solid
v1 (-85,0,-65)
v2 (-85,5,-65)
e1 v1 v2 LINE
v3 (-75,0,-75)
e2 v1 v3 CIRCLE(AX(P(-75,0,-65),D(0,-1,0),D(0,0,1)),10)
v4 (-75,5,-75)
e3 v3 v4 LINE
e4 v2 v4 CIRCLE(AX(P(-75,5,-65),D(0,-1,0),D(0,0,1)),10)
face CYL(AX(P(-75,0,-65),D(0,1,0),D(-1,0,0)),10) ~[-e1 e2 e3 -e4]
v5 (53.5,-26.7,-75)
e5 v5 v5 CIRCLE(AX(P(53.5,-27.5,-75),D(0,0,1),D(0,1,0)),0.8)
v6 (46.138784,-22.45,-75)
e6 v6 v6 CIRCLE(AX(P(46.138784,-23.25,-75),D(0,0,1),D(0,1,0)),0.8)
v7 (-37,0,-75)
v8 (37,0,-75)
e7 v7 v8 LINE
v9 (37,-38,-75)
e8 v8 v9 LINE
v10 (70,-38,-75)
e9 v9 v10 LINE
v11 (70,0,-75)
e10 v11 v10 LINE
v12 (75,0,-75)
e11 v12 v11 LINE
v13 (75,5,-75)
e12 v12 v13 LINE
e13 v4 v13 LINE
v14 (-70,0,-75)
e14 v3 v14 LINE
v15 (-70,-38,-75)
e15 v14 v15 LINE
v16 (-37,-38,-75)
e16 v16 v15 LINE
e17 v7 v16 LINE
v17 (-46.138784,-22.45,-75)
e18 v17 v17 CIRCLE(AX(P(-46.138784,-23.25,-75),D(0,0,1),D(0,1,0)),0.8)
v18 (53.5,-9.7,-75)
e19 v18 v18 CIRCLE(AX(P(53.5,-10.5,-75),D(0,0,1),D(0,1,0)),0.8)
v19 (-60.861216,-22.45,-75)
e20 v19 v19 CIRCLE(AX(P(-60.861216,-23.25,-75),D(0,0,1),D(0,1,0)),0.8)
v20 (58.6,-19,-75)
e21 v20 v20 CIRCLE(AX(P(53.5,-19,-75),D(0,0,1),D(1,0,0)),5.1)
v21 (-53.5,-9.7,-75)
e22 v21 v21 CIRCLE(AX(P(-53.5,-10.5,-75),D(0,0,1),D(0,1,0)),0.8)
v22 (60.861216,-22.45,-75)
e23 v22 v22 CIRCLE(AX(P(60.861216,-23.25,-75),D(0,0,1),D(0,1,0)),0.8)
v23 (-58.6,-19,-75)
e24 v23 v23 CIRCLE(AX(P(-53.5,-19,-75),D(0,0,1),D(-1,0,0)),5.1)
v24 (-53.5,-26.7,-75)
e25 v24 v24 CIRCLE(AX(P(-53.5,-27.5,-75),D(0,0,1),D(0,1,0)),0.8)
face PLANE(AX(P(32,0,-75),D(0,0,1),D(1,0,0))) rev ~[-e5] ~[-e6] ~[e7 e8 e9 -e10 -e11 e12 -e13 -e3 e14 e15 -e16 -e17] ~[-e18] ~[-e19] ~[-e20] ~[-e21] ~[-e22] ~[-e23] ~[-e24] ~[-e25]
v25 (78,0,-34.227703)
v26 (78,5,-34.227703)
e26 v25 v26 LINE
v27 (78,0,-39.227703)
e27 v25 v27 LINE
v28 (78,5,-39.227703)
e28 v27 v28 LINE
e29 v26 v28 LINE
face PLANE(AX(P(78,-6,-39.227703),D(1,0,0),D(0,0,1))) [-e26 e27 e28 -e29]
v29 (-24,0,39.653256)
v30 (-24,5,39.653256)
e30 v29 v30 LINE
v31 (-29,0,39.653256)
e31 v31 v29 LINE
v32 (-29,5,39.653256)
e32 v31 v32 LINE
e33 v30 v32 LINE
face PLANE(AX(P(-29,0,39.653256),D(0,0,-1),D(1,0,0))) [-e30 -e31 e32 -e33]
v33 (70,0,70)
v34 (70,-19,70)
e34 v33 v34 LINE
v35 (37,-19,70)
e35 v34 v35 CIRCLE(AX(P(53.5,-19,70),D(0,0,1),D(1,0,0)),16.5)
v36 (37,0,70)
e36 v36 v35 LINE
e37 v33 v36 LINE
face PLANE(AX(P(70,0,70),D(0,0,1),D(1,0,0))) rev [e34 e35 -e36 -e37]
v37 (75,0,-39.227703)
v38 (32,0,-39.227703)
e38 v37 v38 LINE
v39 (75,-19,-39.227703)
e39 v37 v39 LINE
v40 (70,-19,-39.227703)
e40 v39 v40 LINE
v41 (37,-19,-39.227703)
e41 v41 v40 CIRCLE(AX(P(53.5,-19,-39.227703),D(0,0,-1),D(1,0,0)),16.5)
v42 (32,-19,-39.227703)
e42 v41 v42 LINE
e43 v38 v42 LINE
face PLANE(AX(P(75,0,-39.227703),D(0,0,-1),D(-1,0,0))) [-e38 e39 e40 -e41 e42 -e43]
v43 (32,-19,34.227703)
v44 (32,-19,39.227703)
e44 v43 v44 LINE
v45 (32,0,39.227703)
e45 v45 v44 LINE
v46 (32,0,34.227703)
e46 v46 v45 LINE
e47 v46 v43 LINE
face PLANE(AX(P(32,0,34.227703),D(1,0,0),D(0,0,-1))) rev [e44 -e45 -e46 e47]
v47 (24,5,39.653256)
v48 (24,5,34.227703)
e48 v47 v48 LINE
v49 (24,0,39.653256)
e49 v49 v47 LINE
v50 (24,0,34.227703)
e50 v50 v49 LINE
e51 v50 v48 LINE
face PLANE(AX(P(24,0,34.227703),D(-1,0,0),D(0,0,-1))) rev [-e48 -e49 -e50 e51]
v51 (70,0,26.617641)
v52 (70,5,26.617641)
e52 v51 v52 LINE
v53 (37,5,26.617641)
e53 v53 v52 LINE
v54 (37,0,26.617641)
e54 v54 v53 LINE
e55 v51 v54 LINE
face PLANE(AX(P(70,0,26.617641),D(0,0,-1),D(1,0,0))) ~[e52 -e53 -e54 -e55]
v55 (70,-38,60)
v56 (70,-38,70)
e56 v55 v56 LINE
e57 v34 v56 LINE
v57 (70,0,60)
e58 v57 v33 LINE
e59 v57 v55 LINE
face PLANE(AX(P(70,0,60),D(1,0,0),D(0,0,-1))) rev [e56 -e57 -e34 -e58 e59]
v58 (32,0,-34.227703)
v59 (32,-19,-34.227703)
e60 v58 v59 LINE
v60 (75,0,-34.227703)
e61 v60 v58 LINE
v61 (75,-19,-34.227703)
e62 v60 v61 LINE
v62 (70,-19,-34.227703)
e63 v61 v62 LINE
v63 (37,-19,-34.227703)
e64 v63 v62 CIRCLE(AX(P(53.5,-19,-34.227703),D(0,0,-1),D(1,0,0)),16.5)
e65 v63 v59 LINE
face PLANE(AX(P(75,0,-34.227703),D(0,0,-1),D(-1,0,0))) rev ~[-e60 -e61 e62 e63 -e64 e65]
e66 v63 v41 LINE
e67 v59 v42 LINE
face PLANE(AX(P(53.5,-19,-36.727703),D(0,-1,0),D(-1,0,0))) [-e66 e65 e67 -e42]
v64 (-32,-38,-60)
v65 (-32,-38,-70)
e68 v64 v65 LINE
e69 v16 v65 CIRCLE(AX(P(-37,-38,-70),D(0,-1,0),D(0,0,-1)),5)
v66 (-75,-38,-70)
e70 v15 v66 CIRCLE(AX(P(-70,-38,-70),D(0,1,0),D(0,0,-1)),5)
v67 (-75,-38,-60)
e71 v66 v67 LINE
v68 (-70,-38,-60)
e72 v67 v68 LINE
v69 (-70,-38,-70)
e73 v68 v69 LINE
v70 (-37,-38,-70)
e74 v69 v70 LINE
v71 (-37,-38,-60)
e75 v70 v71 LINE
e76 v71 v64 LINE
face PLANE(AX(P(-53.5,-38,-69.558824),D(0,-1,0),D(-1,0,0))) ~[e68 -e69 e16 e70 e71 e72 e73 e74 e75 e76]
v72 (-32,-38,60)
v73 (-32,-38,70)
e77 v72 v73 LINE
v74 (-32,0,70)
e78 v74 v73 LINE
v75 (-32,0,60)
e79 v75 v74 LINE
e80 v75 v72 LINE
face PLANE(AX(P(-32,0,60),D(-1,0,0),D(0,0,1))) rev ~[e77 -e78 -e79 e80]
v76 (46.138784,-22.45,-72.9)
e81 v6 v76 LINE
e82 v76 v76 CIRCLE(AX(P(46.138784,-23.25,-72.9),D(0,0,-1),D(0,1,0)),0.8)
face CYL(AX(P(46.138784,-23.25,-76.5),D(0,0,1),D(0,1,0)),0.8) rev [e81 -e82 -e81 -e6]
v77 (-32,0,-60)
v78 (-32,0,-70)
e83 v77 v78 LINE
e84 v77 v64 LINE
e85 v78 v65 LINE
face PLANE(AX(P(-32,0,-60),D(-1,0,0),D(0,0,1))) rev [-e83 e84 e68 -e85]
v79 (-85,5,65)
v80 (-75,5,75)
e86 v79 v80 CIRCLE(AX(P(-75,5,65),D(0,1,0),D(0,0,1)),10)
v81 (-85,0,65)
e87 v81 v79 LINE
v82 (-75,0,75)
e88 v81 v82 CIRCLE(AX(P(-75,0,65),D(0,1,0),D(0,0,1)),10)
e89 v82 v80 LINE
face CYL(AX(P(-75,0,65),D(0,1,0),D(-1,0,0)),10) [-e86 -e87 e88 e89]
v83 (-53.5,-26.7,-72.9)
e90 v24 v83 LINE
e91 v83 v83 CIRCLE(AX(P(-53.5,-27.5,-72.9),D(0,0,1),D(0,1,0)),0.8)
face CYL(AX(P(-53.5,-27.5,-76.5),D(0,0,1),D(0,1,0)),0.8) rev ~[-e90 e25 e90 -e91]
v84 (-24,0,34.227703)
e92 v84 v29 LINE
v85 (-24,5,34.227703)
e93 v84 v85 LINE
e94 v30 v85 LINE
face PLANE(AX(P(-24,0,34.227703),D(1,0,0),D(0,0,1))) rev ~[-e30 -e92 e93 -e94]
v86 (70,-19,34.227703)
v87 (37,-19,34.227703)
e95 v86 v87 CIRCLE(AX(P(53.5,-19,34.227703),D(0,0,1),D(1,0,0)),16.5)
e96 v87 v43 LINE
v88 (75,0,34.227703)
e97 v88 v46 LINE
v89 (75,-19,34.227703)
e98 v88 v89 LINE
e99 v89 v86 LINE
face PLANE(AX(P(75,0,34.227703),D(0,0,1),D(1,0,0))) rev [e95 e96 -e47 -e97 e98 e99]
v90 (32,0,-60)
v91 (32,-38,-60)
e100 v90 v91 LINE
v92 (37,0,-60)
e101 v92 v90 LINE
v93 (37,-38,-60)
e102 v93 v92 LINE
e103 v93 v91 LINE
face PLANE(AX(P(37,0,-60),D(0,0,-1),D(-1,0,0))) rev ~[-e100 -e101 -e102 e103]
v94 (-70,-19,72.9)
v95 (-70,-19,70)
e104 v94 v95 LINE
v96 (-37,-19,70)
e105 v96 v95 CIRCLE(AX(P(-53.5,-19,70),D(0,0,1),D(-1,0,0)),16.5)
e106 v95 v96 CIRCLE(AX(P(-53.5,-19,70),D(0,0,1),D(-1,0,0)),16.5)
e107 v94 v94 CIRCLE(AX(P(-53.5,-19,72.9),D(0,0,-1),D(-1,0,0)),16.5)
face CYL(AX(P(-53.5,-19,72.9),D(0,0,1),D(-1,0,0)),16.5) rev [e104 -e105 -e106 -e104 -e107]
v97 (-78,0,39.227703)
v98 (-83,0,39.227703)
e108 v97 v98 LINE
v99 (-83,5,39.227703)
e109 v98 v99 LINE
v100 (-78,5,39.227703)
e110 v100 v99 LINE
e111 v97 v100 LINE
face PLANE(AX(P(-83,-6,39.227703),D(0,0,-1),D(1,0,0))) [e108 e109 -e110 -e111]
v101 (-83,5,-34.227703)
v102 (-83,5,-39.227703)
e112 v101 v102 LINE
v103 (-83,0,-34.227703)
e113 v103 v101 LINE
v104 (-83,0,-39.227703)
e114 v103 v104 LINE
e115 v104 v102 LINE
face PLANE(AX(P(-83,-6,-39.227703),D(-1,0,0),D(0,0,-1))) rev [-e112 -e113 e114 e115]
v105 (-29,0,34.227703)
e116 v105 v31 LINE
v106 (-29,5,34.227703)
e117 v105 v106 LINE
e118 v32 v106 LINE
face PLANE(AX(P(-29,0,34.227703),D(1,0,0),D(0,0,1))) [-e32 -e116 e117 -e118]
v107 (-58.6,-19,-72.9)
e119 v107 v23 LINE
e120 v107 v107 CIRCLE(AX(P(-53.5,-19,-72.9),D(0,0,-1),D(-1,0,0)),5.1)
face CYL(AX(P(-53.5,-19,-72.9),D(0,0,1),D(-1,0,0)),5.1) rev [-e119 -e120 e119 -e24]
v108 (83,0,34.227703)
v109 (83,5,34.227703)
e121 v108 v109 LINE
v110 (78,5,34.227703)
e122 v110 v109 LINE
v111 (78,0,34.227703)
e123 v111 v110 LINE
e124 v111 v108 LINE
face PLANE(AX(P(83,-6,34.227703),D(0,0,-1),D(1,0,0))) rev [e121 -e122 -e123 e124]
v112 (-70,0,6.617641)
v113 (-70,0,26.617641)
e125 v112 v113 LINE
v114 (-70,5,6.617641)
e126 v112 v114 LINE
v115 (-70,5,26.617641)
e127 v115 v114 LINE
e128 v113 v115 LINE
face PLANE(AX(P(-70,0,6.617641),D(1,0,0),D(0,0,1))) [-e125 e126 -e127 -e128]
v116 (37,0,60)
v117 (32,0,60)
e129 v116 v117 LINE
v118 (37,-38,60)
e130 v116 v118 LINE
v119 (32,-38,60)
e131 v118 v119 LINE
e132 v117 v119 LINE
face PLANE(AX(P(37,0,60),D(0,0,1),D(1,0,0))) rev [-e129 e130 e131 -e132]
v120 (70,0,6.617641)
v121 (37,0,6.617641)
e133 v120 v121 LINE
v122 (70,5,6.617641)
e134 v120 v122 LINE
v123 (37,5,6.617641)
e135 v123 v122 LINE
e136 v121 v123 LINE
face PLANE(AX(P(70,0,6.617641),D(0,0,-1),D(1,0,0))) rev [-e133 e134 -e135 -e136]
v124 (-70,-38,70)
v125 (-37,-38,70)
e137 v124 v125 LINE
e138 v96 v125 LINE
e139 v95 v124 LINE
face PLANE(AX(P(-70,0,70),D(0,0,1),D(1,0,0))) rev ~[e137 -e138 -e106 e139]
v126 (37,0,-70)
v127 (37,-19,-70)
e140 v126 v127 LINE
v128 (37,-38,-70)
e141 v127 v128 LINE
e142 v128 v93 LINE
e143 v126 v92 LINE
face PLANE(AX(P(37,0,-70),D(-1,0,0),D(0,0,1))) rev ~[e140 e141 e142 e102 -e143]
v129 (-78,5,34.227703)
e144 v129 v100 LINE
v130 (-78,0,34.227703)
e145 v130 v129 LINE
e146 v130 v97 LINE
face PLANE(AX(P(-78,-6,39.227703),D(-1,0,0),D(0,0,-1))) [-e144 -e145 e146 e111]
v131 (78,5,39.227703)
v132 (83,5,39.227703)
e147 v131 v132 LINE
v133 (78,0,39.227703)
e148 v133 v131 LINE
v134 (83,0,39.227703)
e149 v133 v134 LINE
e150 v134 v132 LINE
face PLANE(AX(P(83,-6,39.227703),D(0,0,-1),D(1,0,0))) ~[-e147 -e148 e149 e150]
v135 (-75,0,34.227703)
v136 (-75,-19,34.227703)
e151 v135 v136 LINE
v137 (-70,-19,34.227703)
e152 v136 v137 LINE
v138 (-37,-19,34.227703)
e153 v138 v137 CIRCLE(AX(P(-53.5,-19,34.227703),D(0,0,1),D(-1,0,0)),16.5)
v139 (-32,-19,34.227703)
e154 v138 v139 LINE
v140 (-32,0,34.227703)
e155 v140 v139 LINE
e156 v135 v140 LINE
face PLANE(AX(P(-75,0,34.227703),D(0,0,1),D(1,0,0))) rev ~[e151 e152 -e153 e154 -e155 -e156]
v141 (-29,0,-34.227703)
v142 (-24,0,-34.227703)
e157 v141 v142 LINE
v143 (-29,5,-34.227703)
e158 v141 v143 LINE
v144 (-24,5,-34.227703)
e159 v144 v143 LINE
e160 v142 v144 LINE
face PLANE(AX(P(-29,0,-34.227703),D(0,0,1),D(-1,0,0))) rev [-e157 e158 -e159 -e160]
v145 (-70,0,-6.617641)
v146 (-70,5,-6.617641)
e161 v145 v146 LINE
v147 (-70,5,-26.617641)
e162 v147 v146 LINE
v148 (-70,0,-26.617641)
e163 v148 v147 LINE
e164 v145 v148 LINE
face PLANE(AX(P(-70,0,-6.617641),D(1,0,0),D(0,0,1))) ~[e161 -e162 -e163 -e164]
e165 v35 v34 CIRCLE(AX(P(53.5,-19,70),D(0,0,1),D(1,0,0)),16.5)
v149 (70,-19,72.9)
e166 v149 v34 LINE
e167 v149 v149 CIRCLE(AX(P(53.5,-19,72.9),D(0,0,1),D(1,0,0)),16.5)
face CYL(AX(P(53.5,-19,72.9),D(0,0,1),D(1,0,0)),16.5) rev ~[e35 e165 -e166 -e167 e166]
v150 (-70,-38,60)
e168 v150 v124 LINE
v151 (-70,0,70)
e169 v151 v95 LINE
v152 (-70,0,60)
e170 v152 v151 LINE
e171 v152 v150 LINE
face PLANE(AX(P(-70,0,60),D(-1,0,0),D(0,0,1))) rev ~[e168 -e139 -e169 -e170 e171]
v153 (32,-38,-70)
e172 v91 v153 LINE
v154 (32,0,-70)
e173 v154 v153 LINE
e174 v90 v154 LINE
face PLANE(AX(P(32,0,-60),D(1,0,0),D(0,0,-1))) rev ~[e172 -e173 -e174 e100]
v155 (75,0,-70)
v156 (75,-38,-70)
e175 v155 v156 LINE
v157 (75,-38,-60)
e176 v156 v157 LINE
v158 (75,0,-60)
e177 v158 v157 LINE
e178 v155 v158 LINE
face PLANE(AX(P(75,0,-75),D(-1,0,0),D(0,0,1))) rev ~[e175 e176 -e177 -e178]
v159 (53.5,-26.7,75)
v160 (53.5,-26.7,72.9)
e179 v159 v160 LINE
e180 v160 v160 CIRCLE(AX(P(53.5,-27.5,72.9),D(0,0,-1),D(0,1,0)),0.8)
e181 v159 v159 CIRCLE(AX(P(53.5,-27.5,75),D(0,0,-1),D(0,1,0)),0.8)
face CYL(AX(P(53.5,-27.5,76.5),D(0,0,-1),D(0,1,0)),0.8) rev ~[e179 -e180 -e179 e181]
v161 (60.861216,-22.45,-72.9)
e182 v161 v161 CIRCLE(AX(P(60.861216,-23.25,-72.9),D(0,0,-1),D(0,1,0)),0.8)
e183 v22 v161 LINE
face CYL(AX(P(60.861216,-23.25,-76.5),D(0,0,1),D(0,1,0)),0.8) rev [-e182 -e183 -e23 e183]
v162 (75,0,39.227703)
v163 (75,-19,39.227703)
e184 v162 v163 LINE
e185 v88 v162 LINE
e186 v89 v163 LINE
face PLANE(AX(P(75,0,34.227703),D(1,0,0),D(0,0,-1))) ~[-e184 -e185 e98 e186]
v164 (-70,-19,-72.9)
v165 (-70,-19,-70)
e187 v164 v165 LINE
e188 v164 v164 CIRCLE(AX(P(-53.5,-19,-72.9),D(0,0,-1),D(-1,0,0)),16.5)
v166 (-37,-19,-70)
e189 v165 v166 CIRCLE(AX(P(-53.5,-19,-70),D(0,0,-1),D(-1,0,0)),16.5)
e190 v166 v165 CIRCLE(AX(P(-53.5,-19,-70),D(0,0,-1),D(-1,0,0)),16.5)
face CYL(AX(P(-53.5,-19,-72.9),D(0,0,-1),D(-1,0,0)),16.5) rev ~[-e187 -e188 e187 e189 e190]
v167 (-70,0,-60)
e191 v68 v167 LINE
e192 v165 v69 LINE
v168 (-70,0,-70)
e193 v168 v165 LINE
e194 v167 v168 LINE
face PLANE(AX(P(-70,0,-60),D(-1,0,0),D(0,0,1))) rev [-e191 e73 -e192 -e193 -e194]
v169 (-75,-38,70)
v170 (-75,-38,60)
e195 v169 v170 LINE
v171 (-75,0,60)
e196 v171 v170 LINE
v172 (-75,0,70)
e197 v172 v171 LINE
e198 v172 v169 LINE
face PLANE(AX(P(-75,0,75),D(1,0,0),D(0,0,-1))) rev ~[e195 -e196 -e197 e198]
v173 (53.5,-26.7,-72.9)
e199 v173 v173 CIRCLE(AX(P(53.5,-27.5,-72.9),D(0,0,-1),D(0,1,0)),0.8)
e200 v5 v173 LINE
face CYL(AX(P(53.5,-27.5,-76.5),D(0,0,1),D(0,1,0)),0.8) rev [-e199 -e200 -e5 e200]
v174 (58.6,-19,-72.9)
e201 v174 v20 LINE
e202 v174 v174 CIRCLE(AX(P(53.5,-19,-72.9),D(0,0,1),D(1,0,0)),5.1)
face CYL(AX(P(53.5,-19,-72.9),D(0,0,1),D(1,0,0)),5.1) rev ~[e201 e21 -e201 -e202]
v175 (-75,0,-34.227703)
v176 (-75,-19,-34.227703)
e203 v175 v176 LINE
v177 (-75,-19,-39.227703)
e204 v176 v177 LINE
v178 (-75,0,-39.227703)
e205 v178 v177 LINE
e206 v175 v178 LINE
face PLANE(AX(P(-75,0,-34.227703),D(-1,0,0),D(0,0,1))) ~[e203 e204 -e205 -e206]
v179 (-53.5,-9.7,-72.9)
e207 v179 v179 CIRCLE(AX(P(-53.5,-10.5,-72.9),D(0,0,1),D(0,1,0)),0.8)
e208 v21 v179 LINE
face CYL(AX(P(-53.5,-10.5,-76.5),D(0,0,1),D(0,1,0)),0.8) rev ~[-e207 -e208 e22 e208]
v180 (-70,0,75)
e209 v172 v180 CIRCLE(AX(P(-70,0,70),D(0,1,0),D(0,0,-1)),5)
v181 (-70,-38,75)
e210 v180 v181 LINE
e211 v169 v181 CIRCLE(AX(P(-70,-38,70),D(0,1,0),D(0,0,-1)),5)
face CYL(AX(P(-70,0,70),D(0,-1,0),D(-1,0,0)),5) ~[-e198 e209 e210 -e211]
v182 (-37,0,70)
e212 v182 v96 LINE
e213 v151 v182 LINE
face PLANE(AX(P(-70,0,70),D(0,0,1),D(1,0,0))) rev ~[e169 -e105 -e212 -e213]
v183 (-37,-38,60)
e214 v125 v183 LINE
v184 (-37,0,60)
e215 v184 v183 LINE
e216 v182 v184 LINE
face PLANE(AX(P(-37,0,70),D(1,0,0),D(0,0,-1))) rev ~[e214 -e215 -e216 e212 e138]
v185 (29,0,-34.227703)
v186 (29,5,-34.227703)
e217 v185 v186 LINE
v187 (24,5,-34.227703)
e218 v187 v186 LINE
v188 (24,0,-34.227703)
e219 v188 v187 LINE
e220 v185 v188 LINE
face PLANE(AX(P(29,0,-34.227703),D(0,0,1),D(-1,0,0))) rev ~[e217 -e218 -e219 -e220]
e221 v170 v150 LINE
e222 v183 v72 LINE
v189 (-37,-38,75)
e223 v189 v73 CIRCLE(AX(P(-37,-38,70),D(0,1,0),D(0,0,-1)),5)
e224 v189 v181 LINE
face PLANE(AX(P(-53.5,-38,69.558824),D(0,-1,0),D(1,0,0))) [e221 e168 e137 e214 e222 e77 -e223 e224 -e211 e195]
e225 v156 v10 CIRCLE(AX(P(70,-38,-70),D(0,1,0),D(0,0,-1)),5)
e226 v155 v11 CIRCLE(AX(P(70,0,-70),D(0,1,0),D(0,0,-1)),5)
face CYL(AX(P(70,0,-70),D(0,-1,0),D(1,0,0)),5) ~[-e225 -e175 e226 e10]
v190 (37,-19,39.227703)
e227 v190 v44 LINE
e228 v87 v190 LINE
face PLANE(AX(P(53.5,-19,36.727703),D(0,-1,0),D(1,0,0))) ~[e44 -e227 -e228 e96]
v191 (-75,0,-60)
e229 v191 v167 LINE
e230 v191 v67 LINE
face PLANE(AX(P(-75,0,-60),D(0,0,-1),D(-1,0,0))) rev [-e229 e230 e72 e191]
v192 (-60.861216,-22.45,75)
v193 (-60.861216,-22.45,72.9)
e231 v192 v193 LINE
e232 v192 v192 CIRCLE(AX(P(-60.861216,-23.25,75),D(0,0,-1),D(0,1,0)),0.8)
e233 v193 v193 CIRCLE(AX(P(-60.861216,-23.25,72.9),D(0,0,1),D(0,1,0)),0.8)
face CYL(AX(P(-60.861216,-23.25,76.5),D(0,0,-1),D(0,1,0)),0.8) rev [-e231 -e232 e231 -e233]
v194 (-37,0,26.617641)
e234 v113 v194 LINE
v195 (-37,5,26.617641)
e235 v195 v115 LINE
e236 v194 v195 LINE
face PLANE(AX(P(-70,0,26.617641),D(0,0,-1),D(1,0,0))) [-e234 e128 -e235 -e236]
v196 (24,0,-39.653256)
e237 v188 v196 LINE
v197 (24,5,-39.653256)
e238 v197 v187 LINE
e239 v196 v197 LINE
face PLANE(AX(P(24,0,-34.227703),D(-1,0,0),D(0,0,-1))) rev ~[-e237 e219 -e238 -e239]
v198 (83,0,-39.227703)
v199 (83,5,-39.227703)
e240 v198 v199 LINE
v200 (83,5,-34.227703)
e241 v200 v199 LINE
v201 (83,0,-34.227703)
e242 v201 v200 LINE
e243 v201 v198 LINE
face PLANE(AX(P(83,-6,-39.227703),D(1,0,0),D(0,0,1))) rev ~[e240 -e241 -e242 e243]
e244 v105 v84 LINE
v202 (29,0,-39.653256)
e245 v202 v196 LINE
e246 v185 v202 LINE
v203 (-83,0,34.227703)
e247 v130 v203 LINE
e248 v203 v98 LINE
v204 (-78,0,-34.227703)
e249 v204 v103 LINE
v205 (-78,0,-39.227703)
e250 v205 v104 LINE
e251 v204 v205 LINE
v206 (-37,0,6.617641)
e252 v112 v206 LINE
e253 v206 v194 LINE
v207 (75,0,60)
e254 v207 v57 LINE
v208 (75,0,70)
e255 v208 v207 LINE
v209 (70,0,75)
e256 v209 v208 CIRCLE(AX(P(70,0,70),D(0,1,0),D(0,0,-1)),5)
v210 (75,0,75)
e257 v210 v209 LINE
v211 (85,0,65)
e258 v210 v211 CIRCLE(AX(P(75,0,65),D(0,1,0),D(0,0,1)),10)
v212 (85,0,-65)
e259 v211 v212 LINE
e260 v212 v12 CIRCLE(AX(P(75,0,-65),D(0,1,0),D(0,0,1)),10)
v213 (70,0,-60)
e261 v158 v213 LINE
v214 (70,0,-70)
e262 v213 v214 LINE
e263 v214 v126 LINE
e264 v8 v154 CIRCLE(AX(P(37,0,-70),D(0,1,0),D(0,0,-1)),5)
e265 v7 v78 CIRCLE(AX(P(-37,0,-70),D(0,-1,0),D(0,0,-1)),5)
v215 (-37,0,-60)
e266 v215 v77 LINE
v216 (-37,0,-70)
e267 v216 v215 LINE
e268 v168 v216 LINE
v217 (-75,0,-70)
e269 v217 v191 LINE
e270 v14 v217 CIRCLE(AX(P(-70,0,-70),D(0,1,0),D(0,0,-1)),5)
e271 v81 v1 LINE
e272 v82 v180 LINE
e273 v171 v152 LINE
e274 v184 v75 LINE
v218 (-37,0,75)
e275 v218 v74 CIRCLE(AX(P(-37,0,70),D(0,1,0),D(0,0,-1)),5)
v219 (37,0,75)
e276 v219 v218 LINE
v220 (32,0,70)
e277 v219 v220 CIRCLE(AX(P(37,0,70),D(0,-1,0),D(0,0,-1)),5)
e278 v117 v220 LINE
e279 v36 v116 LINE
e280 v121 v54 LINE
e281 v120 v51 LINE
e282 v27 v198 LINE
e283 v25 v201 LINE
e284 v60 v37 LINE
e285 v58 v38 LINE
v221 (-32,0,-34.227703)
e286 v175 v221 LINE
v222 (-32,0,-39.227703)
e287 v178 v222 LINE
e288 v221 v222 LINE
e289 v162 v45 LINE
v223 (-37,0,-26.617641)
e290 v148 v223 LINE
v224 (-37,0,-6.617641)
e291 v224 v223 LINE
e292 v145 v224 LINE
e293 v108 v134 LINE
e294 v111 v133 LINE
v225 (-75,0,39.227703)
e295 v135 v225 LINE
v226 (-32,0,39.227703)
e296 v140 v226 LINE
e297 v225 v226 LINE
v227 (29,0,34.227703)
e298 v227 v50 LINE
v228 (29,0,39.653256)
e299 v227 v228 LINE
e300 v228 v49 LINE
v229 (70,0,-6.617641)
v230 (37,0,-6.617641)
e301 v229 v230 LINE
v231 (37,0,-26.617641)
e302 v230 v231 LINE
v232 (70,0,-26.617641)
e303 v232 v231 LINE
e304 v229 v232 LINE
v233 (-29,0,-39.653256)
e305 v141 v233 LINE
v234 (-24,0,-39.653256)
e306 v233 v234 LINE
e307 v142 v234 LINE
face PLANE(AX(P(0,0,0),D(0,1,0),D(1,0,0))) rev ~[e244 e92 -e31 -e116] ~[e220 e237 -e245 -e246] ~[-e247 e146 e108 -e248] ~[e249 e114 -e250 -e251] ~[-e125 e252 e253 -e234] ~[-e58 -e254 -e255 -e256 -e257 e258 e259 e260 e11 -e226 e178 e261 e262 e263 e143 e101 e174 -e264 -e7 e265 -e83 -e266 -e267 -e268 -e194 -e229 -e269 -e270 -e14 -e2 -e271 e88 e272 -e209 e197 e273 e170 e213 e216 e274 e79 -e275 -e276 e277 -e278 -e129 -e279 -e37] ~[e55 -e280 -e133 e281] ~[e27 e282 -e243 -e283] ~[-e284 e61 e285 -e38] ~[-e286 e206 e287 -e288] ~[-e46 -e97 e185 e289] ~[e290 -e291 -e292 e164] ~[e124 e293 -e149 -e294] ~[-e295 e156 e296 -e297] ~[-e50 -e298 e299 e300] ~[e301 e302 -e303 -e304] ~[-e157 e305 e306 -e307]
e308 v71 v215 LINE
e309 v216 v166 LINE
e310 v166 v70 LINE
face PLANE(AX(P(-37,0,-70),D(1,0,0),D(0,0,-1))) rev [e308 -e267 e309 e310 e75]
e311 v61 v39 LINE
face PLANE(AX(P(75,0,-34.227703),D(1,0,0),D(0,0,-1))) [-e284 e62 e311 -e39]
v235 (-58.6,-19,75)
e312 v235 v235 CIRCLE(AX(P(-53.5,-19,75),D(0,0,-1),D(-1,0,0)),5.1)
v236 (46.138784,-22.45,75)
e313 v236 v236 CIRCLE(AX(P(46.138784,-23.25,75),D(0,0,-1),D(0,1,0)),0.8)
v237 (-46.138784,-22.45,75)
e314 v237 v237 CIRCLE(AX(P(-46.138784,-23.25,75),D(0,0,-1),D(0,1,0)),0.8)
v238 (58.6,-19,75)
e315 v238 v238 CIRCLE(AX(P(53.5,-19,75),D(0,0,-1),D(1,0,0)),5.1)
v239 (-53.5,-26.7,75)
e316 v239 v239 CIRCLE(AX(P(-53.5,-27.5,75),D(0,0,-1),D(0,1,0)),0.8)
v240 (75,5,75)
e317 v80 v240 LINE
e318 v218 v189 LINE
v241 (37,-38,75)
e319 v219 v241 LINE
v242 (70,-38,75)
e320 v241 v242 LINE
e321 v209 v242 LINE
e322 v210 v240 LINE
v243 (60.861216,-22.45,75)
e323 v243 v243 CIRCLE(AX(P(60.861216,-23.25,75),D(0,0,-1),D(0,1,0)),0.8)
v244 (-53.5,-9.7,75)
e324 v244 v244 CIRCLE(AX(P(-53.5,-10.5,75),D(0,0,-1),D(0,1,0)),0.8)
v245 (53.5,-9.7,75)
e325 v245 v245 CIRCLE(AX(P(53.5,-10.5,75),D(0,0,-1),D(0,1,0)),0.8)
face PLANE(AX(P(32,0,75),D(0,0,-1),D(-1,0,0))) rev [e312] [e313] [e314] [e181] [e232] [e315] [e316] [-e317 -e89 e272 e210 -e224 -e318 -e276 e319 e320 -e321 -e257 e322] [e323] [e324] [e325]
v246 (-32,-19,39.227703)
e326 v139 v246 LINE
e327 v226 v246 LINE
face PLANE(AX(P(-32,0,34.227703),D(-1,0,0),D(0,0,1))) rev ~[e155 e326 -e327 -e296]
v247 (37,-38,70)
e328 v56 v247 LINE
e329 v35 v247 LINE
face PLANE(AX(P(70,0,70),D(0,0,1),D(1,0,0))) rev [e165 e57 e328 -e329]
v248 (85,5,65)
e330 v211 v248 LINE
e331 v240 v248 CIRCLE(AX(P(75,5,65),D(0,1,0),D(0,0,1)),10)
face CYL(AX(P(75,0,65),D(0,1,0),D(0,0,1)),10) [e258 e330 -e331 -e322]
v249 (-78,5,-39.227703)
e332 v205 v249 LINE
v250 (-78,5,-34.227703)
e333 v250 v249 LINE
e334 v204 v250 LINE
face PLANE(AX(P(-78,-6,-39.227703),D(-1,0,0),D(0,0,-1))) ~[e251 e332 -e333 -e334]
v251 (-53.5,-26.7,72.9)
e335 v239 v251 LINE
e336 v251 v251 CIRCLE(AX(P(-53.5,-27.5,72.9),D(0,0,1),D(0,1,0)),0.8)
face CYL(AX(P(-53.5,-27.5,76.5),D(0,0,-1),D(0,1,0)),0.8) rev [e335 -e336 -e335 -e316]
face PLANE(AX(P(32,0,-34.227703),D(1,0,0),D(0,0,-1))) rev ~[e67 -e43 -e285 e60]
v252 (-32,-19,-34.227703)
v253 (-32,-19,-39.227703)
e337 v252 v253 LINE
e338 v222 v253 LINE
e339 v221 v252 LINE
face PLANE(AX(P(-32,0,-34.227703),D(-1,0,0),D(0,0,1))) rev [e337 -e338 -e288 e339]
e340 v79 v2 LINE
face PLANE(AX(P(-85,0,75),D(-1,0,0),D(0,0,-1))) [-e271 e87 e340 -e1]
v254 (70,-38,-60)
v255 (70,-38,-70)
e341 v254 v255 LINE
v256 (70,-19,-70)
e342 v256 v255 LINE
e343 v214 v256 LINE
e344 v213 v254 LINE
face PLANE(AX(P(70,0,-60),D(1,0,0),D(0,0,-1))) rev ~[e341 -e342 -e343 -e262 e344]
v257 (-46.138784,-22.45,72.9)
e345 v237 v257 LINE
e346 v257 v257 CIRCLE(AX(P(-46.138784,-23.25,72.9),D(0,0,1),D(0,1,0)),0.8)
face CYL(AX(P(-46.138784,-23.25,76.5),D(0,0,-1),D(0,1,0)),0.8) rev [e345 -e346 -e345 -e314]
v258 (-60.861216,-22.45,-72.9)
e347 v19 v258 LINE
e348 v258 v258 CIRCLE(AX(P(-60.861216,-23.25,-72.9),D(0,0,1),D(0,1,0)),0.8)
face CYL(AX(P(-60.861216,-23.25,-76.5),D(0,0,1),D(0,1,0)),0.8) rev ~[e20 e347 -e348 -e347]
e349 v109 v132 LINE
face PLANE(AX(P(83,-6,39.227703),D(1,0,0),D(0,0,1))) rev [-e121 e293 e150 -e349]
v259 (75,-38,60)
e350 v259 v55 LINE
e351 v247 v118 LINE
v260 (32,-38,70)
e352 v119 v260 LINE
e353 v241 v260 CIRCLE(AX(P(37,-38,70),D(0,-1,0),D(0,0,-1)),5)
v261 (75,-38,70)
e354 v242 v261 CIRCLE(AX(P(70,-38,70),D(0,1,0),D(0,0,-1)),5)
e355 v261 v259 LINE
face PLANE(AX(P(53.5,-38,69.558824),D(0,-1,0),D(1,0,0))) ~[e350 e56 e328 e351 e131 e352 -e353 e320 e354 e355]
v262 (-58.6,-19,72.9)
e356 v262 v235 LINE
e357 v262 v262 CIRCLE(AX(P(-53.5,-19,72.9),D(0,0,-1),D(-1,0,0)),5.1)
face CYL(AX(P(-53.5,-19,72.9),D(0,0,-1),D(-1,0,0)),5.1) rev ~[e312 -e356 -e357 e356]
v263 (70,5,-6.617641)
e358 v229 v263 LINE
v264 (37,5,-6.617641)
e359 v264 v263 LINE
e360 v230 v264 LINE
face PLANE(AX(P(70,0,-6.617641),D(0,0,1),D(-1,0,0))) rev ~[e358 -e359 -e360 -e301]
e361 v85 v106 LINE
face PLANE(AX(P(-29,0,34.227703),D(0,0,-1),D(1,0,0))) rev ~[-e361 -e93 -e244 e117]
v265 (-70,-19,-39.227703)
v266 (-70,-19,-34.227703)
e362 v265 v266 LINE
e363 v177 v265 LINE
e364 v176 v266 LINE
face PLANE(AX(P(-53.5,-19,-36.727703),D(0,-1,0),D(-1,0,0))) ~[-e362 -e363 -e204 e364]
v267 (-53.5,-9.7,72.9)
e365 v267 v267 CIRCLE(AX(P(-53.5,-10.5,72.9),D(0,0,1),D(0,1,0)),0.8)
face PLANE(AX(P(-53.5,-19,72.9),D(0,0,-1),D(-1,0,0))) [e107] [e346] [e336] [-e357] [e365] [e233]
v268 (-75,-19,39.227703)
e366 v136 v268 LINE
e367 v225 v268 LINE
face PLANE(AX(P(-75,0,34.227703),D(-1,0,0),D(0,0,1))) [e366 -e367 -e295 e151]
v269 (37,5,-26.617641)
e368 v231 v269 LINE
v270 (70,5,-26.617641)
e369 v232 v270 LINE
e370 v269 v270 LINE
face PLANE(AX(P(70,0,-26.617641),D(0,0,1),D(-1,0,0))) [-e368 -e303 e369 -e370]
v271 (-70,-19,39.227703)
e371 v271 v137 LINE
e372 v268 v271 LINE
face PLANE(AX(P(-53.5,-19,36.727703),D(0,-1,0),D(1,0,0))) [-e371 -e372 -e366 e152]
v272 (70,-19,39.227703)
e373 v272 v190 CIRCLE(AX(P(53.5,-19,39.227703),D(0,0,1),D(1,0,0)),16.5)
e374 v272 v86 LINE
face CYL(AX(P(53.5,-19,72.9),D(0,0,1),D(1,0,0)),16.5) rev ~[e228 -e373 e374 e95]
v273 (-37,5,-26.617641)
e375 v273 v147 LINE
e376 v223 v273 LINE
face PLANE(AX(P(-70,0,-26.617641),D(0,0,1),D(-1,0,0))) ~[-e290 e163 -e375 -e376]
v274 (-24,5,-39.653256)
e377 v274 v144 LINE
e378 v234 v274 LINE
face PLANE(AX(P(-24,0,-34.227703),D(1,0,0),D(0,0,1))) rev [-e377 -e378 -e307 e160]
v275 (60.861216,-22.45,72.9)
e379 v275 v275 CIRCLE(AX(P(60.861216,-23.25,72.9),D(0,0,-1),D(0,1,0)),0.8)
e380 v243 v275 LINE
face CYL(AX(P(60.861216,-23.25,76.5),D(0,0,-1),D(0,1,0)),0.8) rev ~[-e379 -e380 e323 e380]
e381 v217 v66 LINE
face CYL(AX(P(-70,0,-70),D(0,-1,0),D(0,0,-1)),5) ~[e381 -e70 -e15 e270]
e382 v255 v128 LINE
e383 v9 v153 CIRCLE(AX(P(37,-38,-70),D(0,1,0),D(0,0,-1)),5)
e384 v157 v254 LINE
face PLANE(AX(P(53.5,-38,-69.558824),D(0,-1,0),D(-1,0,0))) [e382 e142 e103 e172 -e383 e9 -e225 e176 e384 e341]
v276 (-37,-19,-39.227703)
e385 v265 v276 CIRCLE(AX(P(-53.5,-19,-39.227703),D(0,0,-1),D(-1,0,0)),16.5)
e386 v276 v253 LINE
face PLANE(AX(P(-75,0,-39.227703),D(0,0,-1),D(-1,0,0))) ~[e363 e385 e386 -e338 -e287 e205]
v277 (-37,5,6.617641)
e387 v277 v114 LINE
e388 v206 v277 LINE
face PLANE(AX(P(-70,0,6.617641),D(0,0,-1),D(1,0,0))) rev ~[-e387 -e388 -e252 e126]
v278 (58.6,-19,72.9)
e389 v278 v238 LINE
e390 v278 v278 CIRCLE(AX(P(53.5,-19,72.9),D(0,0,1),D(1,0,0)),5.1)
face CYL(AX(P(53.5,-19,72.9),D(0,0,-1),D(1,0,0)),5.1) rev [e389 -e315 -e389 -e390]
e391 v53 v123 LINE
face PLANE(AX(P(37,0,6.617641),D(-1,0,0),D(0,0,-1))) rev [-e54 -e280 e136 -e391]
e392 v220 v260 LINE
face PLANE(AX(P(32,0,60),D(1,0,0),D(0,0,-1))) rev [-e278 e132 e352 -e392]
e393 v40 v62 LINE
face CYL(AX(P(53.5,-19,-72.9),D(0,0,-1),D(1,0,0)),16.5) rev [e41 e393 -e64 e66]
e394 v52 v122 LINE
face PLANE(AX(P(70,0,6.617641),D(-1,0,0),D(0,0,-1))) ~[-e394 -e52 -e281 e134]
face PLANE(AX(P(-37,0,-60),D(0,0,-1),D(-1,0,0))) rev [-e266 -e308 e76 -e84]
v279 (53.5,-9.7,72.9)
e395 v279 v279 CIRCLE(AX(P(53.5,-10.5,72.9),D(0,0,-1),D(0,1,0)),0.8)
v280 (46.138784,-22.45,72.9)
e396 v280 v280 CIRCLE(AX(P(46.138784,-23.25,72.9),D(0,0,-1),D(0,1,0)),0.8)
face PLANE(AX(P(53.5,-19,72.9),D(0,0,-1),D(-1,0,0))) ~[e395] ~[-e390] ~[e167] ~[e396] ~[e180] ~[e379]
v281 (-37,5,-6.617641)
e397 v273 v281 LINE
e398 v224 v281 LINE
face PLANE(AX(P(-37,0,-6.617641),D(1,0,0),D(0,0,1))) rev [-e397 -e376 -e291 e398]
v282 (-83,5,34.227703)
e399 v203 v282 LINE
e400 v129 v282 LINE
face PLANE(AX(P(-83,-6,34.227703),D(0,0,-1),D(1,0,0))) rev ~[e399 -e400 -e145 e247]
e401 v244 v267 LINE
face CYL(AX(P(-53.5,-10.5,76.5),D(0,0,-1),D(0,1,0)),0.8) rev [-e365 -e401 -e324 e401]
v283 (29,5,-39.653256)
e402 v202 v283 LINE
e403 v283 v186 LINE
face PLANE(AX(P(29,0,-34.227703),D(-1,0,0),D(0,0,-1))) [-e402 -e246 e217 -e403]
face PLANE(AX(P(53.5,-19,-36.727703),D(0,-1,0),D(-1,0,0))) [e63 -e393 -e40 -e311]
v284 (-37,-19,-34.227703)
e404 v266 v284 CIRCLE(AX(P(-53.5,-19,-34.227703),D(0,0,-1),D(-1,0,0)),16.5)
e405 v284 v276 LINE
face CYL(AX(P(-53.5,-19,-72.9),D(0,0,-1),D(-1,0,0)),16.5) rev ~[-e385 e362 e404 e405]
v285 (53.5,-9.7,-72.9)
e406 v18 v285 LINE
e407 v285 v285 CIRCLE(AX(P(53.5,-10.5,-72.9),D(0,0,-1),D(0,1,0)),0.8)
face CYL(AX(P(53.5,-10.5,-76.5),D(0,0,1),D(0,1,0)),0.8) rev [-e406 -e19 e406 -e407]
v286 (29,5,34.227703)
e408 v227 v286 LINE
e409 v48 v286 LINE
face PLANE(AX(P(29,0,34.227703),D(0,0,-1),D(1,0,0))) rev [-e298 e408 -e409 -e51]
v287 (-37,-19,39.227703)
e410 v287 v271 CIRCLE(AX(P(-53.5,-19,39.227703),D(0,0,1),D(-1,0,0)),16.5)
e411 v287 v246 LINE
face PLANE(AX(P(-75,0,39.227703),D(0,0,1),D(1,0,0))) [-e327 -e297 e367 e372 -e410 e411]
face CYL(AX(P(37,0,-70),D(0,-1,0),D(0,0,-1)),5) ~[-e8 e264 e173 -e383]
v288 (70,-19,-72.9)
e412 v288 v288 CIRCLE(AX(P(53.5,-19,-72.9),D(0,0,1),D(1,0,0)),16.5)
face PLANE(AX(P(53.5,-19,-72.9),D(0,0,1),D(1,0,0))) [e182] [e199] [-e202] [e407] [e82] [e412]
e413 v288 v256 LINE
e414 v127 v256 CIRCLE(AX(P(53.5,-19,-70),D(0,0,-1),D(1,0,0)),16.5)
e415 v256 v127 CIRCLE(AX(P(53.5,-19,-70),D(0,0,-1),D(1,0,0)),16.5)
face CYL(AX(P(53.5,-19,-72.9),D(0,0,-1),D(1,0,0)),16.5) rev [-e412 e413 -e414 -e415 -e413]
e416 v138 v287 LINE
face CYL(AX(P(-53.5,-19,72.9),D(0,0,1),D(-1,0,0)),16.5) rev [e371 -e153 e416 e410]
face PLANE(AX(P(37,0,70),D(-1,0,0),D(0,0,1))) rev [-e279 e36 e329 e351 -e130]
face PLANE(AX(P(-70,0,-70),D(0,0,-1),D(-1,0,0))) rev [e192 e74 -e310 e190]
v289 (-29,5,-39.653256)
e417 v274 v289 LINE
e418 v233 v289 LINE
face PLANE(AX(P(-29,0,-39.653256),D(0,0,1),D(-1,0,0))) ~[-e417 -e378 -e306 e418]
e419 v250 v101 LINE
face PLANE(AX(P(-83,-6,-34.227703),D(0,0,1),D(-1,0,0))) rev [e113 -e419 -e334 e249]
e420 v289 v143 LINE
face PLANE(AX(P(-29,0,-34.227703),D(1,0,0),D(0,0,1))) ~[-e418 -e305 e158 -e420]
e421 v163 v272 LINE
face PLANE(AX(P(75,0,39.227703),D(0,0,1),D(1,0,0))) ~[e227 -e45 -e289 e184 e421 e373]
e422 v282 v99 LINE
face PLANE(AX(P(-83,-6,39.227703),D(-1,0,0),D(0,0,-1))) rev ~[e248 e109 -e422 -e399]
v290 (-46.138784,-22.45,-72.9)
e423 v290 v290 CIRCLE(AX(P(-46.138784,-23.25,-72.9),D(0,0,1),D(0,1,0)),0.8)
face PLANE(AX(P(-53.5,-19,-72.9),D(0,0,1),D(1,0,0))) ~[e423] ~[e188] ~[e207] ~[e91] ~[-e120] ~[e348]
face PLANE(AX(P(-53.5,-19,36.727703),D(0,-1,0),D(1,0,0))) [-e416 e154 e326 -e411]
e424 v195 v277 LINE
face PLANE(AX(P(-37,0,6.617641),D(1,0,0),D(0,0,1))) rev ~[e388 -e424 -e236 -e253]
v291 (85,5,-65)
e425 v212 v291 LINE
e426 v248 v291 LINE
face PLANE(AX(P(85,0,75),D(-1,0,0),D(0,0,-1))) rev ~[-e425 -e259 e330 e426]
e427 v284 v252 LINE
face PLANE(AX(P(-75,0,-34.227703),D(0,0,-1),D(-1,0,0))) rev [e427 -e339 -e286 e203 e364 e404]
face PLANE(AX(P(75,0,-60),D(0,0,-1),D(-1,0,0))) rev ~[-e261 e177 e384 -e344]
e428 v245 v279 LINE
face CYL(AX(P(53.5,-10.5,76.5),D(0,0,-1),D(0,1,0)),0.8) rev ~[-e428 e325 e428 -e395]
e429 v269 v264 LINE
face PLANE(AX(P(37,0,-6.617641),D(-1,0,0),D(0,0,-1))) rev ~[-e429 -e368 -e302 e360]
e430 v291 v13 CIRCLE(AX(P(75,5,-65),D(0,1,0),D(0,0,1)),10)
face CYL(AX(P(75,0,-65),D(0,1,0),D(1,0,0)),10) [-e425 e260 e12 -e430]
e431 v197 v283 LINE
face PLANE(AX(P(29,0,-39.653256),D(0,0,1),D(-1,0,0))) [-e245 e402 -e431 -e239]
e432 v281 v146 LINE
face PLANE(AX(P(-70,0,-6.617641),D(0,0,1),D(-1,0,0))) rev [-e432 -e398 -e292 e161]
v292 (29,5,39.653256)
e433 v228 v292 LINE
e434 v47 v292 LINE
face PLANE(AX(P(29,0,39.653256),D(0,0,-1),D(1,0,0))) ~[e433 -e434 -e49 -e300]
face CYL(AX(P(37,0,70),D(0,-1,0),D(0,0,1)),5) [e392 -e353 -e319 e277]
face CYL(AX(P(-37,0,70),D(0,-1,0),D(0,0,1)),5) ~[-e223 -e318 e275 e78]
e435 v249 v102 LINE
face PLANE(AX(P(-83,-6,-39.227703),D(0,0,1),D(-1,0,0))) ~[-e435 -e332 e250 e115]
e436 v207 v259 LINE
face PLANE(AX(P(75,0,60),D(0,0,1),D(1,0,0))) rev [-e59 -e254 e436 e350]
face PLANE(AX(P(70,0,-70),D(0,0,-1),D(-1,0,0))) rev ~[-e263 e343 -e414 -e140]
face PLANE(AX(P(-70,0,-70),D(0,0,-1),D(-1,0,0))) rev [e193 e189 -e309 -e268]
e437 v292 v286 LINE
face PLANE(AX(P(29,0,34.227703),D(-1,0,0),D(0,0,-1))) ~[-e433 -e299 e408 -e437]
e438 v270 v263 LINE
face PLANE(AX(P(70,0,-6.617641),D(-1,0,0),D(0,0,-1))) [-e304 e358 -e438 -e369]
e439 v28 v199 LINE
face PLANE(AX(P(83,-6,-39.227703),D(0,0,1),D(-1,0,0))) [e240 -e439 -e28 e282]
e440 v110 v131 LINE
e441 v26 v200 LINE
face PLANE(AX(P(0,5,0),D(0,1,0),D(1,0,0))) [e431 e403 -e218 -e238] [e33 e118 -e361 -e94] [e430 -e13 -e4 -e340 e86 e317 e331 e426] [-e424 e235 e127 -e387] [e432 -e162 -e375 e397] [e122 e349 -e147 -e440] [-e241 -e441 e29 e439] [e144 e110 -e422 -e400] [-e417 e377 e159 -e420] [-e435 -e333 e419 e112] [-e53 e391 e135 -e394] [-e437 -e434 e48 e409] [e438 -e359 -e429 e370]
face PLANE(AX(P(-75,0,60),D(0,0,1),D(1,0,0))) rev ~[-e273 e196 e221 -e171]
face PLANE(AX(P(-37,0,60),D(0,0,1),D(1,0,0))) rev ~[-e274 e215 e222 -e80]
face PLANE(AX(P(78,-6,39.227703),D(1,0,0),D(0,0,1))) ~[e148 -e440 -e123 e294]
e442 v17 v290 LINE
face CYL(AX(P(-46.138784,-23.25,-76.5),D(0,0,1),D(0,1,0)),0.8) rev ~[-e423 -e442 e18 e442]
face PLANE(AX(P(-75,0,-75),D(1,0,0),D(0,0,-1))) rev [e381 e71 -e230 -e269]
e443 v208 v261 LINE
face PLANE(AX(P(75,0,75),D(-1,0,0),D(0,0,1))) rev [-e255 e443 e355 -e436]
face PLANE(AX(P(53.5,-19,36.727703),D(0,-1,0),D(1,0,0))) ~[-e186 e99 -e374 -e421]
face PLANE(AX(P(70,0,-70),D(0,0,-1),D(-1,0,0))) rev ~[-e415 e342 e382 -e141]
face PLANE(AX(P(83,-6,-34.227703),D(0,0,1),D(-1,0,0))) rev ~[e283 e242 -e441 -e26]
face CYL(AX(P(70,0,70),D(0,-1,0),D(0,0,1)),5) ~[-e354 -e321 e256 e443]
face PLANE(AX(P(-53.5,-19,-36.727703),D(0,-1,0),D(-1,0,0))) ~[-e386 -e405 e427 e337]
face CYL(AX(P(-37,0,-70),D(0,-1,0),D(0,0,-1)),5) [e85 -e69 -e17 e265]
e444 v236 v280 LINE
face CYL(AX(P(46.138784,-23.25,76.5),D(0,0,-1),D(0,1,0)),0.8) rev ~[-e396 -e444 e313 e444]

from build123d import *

# Parameters (mm, degrees)
SKETCH1_W                        = 170
SKETCH1_H                        = 150
BOSS_EXTRUDE1_DEPTH              = 5
FILLET1_R                        = 10
BOSS_EXTRUDE2_DEPTH              = 38
SKETCH29_W                       = 43
SKETCH29_H                       = 5
BOSS_EXTRUDE3_DEPTH              = 19
CUT_EXTRUDE1_START               = -2.9
SKETCH6_R                        = 16.5
CUT_EXTRUDE1_DEPTH               = 93.9
SKETCH13_R                       = 5.1
CUT_EXTRUDE2_DEPTH               = 4.7
TAP_DRILL_FOR_M2_TAP1_AT_2_COUNT = 2
TAP_DRILL_FOR_M2_TAP1_AT_2_PITCH = 8.5
TAP_DRILL_FOR_M2_TAP1_AT_3_COUNT = 2
TAP_DRILL_FOR_M2_TAP1_AT_3_PITCH = 14.722431864
TAP_DRILL_FOR_M2_TAP1_AT_4_COUNT = 2
TAP_DRILL_FOR_M2_TAP1_AT_4_PITCH = 14.722431864
FILLET2_R                        = 5
SKETCH28_W                       = 33
SKETCH28_H                       = 20
CUT_EXTRUDE3_DEPTH               = 10
MIRROR25_COPY_4_DEPTH            = 38
MIRROR25_START                   = -2.9
MIRROR25_COPY_5_SKETCH_R         = 16.5
MIRROR25_COPY_5_DEPTH            = 93.9
MIRROR25_COPY_6_SKETCH_R         = 5.1
MIRROR25_COPY_6_DEPTH            = 4.7
MIRROR25_COPY_11_SKETCH_W        = 33
MIRROR25_COPY_11_SKETCH_H        = 20
MIRROR25_COPY_11_DEPTH           = 10
FILLET4_R                        = 5
SKETCH33_W                       = 5
SKETCH33_H                       = 5.425553346
CUT_EXTRUDE4_DEPTH               = 10
CUT_EXTRUDE5_START               = -11
SKETCH34_W                       = 5
SKETCH34_H                       = 5
CUT_EXTRUDE5_DEPTH               = 28
MIRROR29_COPY_1_SKETCH_W         = 43
MIRROR29_COPY_1_SKETCH_H         = 5
MIRROR29_COPY_1_DEPTH            = 19
MIRROR29_START                   = -2.9
MIRROR29_COPY_2_SKETCH_R         = 16.5
MIRROR29_COPY_2_DEPTH            = 93.9
MIRROR29_COPY_3_SKETCH_W         = 5
MIRROR29_COPY_3_SKETCH_H         = 5.425553346
MIRROR29_COPY_3_DEPTH            = 10
MIRROR29_START_2                 = -11
MIRROR29_COPY_4_SKETCH_W         = 5
MIRROR29_COPY_4_SKETCH_H         = 5
MIRROR29_COPY_4_DEPTH            = 28


with BuildPart() as part:
    # Sketch1 → Boss-Extrude1 (new body)
    with BuildSketch(Plane(origin=(0, 0, 0), x_dir=(1, 0, 0), z_dir=(0, 1, 0))):
        Rectangle(SKETCH1_W, SKETCH1_H)
    extrude(amount=BOSS_EXTRUDE1_DEPTH)

    # Fillet1
    fillet1_edges = [part.edges().sort_by_distance(p)[0] for p in [
        (85, 2.5, 75),
        (-85, 2.5, 75),
        (-85, 2.5, -75),
        (85, 2.5, -75),
    ]]
    fillet(fillet1_edges, radius=FILLET1_R)

    # Sketch3 → Boss-Extrude2 (add)
    with BuildSketch(Plane.XZ):
        Polygon((-75, 75), (-75, 60), (-70, 60), (-70, 70), (-37, 70), (-37, 60), (-32, 60), (-32, 75), align=None)
    boss_extrude2 = extrude(amount=BOSS_EXTRUDE2_DEPTH)

    # Sketch29 → Boss-Extrude3 (add)
    with BuildSketch(Plane.XZ):
        with Locations((-53.5, 36.727703087)):
            Rectangle(SKETCH29_W, SKETCH29_H)
    boss_extrude3 = extrude(amount=BOSS_EXTRUDE3_DEPTH)

    # Sketch6 → Cut-Extrude1 (cut)
    with BuildSketch(Plane(origin=(0, 0, 70), x_dir=(-1, 0, 0), z_dir=(0, 0, -1)).offset(CUT_EXTRUDE1_START)):
        with Locations((53.5, -19)):
            Circle(SKETCH6_R)
    cut_extrude1 = extrude(amount=CUT_EXTRUDE1_DEPTH, mode=Mode.SUBTRACT)

    # Sketch13 → Cut-Extrude2 (cut)
    with BuildSketch(Plane(origin=(0, 0, 72.9), x_dir=(-1, 0, 0), z_dir=(0, 0, -1))):
        with Locations((53.5, -19)):
            Circle(SKETCH13_R)
    cut_extrude2 = extrude(amount=-CUT_EXTRUDE2_DEPTH, mode=Mode.SUBTRACT)

    # Sketch16 → Tap Drill for M2 Tap1 (revolve, cut)
    with BuildSketch(Plane(origin=(-46.138784068, -23.25, 72.9), x_dir=(0, 1, 0), z_dir=(1, 0, 0))):
        Polygon((0, 0), (0, 4.080688495), (0.8, 3.6), (0.8, 0), align=None)
    tap_drill_for_m2_tap1 = revolve(axis=Axis((-46.138784068, -23.25, 66.55), (0, 0, 1)), mode=Mode.SUBTRACT)

    # Tap Drill for M2 Tap1 at 2: Tap Drill for M2 Tap1 ×2
    with Locations(*[Vector(-0.86602540378444, -0.49999999999999756, 0) * (i * TAP_DRILL_FOR_M2_TAP1_AT_2_PITCH) for i in range(1, TAP_DRILL_FOR_M2_TAP1_AT_2_COUNT)]):
        add(tap_drill_for_m2_tap1, mode=Mode.SUBTRACT)

    # Tap Drill for M2 Tap1 at 3: Tap Drill for M2 Tap1 ×2
    with Locations(*[(-i * TAP_DRILL_FOR_M2_TAP1_AT_3_PITCH, 0, 0) for i in range(1, TAP_DRILL_FOR_M2_TAP1_AT_3_COUNT)]):
        add(tap_drill_for_m2_tap1, mode=Mode.SUBTRACT)

    # Tap Drill for M2 Tap1 at 4: Tap Drill for M2 Tap1 ×2
    with Locations(*[Vector(-0.49999999999999784, 0.8660254037844399, 0) * (i * TAP_DRILL_FOR_M2_TAP1_AT_4_PITCH) for i in range(1, TAP_DRILL_FOR_M2_TAP1_AT_4_COUNT)]):
        add(tap_drill_for_m2_tap1, mode=Mode.SUBTRACT)

    # Fillet2
    fillet2_edges = [part.edges().sort_by_distance(p)[0] for p in [
        (-32, -19, 75),
        (-75, -19, 75),
    ]]
    fillet(fillet2_edges, radius=FILLET2_R)

    # Sketch28 → Cut-Extrude3 (cut)
    with BuildSketch(Plane.XZ):
        with Locations((-53.5, 16.617641144)):
            Rectangle(SKETCH28_W, SKETCH28_H)
    cut_extrude3 = extrude(amount=-CUT_EXTRUDE3_DEPTH, mode=Mode.SUBTRACT)

    # Mirror14: Boss-Extrude2 across plane
    add(boss_extrude2.mirror(Plane.XY))

    # Mirror15: Cut-Extrude1, Cut-Extrude2 across plane
    add(cut_extrude1.mirror(Plane.XY), mode=Mode.SUBTRACT)
    add(cut_extrude2.mirror(Plane.XY), mode=Mode.SUBTRACT)

    # Mirror16: Tap Drill for M2 Tap1 across plane
    add(tap_drill_for_m2_tap1.mirror(Plane.XY), mode=Mode.SUBTRACT)

    # Mirror16 copy 1 sketch → Mirror16 copy 1 (revolve, cut)
    with BuildSketch(Plane(origin=(-53.5, -27.5, -72.9), x_dir=(0, 1, 0), z_dir=(1, 0, 0))):
        Polygon((0, 0), (0, -4.080688495), (0.8, -3.6), (0.8, 0), align=None)
    revolve(axis=Axis((-53.5, -27.5, -66.55), (0, 0, 1)), mode=Mode.SUBTRACT)

    # Mirror16 copy 2 sketch → Mirror16 copy 2 (revolve, cut)
    with BuildSketch(Plane(origin=(-60.861215932, -23.25, -72.9), x_dir=(0, 1, 0), z_dir=(1, 0, 0))):
        Polygon((0, 0), (0, -4.080688495), (0.8, -3.6), (0.8, 0), align=None)
    revolve(axis=Axis((-60.861215932, -23.25, -66.55), (0, 0, 1)), mode=Mode.SUBTRACT)

    # Mirror16 copy 3 sketch → Mirror16 copy 3 (revolve, cut)
    with BuildSketch(Plane(origin=(-53.5, -10.5, -72.9), x_dir=(0, 1, 0), z_dir=(1, 0, 0))):
        Polygon((0, 0), (0, -4.080688495), (0.8, -3.6), (0.8, 0), align=None)
    revolve(axis=Axis((-53.5, -10.5, -66.55), (0, 0, 1)), mode=Mode.SUBTRACT)

    # Mirror24: Cut-Extrude3 across plane
    add(cut_extrude3.mirror(Plane.XY), mode=Mode.SUBTRACT)

    # Mirror25: Boss-Extrude2, Cut-Extrude1, Cut-Extrude2, Tap Drill for M2 Tap1, Cut-Extrude3 across plane
    add(boss_extrude2.mirror(Plane(origin=(0, 0, 0), x_dir=(0, 0, 1), z_dir=(1, 0, 0))))
    add(cut_extrude1.mirror(Plane(origin=(0, 0, 0), x_dir=(0, 0, 1), z_dir=(1, 0, 0))), mode=Mode.SUBTRACT)
    add(cut_extrude2.mirror(Plane(origin=(0, 0, 0), x_dir=(0, 0, 1), z_dir=(1, 0, 0))), mode=Mode.SUBTRACT)
    add(tap_drill_for_m2_tap1.mirror(Plane(origin=(0, 0, 0), x_dir=(0, 0, 1), z_dir=(1, 0, 0))), mode=Mode.SUBTRACT)
    add(cut_extrude3.mirror(Plane(origin=(0, 0, 0), x_dir=(0, 0, 1), z_dir=(1, 0, 0))), mode=Mode.SUBTRACT)

    # Mirror25 copy 1 sketch → Mirror25 copy 1 (revolve, cut)
    with BuildSketch(Plane(origin=(53.5, -27.5, 72.9), x_dir=(0, 1, 0), z_dir=(-1, 0, 0))):
        Polygon((0, 0), (0, -4.080688495), (0.8, -3.6), (0.8, 0), align=None)
    revolve(axis=Axis((53.5, -27.5, 66.55), (0, 0, -1)), mode=Mode.SUBTRACT)

    # Mirror25 copy 2 sketch → Mirror25 copy 2 (revolve, cut)
    with BuildSketch(Plane(origin=(60.861215932, -23.25, 72.9), x_dir=(0, 1, 0), z_dir=(-1, 0, 0))):
        Polygon((0, 0), (0, -4.080688495), (0.8, -3.6), (0.8, 0), align=None)
    revolve(axis=Axis((60.861215932, -23.25, 66.55), (0, 0, -1)), mode=Mode.SUBTRACT)

    # Mirror25 copy 3 sketch → Mirror25 copy 3 (revolve, cut)
    with BuildSketch(Plane(origin=(53.5, -10.5, 72.9), x_dir=(0, 1, 0), z_dir=(-1, 0, 0))):
        Polygon((0, 0), (0, -4.080688495), (0.8, -3.6), (0.8, 0), align=None)
    revolve(axis=Axis((53.5, -10.5, 66.55), (0, 0, -1)), mode=Mode.SUBTRACT)

    # Mirror25 copy 4 sketch → Mirror25 copy 4 (add)
    with BuildSketch(Plane(origin=(0, 0, 0), x_dir=(-1, 0, 0), z_dir=(0, -1, 0))):
        Polygon((-75, 75), (-75, 60), (-70, 60), (-70, 70), (-37, 70), (-37, 60), (-32, 60), (-32, 75), align=None)
    extrude(amount=MIRROR25_COPY_4_DEPTH)

    # Mirror25 copy 5 sketch → Mirror25 copy 5 (cut)
    with BuildSketch(Plane.XY.offset(-70).offset(MIRROR25_START)):
        with Locations((53.5, -19)):
            Circle(MIRROR25_COPY_5_SKETCH_R)
    extrude(amount=MIRROR25_COPY_5_DEPTH, mode=Mode.SUBTRACT)

    # Mirror25 copy 6 sketch → Mirror25 copy 6 (cut)
    with BuildSketch(Plane.XY.offset(-72.9)):
        with Locations((53.5, -19)):
            Circle(MIRROR25_COPY_6_SKETCH_R)
    extrude(amount=-MIRROR25_COPY_6_DEPTH, mode=Mode.SUBTRACT)

    # Mirror25 copy 7 sketch → Mirror25 copy 7 (revolve, cut)
    with BuildSketch(Plane(origin=(46.138784068, -23.25, -72.9), x_dir=(0, 1, 0), z_dir=(-1, 0, 0))):
        Polygon((0, 0), (0, 4.080688495), (0.8, 3.6), (0.8, 0), align=None)
    revolve(axis=Axis((46.138784068, -23.25, -66.55), (0, 0, -1)), mode=Mode.SUBTRACT)

    # Mirror25 copy 8 sketch → Mirror25 copy 8 (revolve, cut)
    with BuildSketch(Plane(origin=(53.5, -27.5, -72.9), x_dir=(0, 1, 0), z_dir=(-1, 0, 0))):
        Polygon((0, 0), (0, 4.080688495), (0.8, 3.6), (0.8, 0), align=None)
    revolve(axis=Axis((53.5, -27.5, -66.55), (0, 0, -1)), mode=Mode.SUBTRACT)

    # Mirror25 copy 9 sketch → Mirror25 copy 9 (revolve, cut)
    with BuildSketch(Plane(origin=(60.861215932, -23.25, -72.9), x_dir=(0, 1, 0), z_dir=(-1, 0, 0))):
        Polygon((0, 0), (0, 4.080688495), (0.8, 3.6), (0.8, 0), align=None)
    revolve(axis=Axis((60.861215932, -23.25, -66.55), (0, 0, -1)), mode=Mode.SUBTRACT)

    # Mirror25 copy 10 sketch → Mirror25 copy 10 (revolve, cut)
    with BuildSketch(Plane(origin=(53.5, -10.5, -72.9), x_dir=(0, 1, 0), z_dir=(-1, 0, 0))):
        Polygon((0, 0), (0, 4.080688495), (0.8, 3.6), (0.8, 0), align=None)
    revolve(axis=Axis((53.5, -10.5, -66.55), (0, 0, -1)), mode=Mode.SUBTRACT)

    # Mirror25 copy 11 sketch → Mirror25 copy 11 (cut)
    with BuildSketch(Plane(origin=(0, 0, 0), x_dir=(-1, 0, 0), z_dir=(0, -1, 0))):
        with Locations((-53.5, 16.617641144)):
            Rectangle(MIRROR25_COPY_11_SKETCH_W, MIRROR25_COPY_11_SKETCH_H)
    extrude(amount=-MIRROR25_COPY_11_DEPTH, mode=Mode.SUBTRACT)

    # Fillet4
    fillet4_edges = [part.edges().sort_by_distance(p)[0] for p in [
        (-75, -19, -75),
        (-32, -19, -75),
        (32, -19, -75),
        (75, -19, -75),
        (75, -19, 75),
        (32, -19, 75),
    ]]
    fillet(fillet4_edges, radius=FILLET4_R)

    # Sketch33 → Cut-Extrude4 (cut)
    with BuildSketch(Plane.XZ):
        with Locations((-26.5, 36.94047976)):
            Rectangle(SKETCH33_W, SKETCH33_H)
    cut_extrude4 = extrude(amount=-CUT_EXTRUDE4_DEPTH, mode=Mode.SUBTRACT)

    # Sketch34 → Cut-Extrude5 (cut)
    with BuildSketch(Plane(origin=(0, 5, 0), x_dir=(1, 0, 0), z_dir=(0, 1, 0)).offset(CUT_EXTRUDE5_START)):
        with Locations((-80.5, -36.727703087)):
            Rectangle(SKETCH34_W, SKETCH34_H)
    cut_extrude5 = extrude(amount=CUT_EXTRUDE5_DEPTH, mode=Mode.SUBTRACT)

    # Mirror28: Boss-Extrude3, Cut-Extrude1, Cut-Extrude4, Cut-Extrude5 across plane
    add(boss_extrude3.mirror(Plane.XY))
    add(cut_extrude1.mirror(Plane.XY), mode=Mode.SUBTRACT)
    add(cut_extrude4.mirror(Plane.XY), mode=Mode.SUBTRACT)
    add(cut_extrude5.mirror(Plane.XY), mode=Mode.SUBTRACT)

    # Mirror29: Boss-Extrude3, Cut-Extrude1, Cut-Extrude4, Cut-Extrude5 across plane
    add(boss_extrude3.mirror(Plane(origin=(0, 0, 0), x_dir=(0, 0, 1), z_dir=(1, 0, 0))))
    add(cut_extrude1.mirror(Plane(origin=(0, 0, 0), x_dir=(0, 0, 1), z_dir=(1, 0, 0))), mode=Mode.SUBTRACT)
    add(cut_extrude4.mirror(Plane(origin=(0, 0, 0), x_dir=(0, 0, 1), z_dir=(1, 0, 0))), mode=Mode.SUBTRACT)
    add(cut_extrude5.mirror(Plane(origin=(0, 0, 0), x_dir=(0, 0, 1), z_dir=(1, 0, 0))), mode=Mode.SUBTRACT)

    # Mirror29 copy 1 sketch → Mirror29 copy 1 (add)
    with BuildSketch(Plane(origin=(0, 0, 0), x_dir=(-1, 0, 0), z_dir=(0, -1, 0))):
        with Locations((-53.5, 36.727703087)):
            Rectangle(MIRROR29_COPY_1_SKETCH_W, MIRROR29_COPY_1_SKETCH_H)
    extrude(amount=MIRROR29_COPY_1_DEPTH)

    # Mirror29 copy 2 sketch → Mirror29 copy 2 (cut)
    with BuildSketch(Plane.XY.offset(-70).offset(MIRROR29_START)):
        with Locations((53.5, -19)):
            Circle(MIRROR29_COPY_2_SKETCH_R)
    extrude(amount=MIRROR29_COPY_2_DEPTH, mode=Mode.SUBTRACT)

    # Mirror29 copy 3 sketch → Mirror29 copy 3 (cut)
    with BuildSketch(Plane(origin=(0, 0, 0), x_dir=(-1, 0, 0), z_dir=(0, -1, 0))):
        with Locations((-26.5, 36.94047976)):
            Rectangle(MIRROR29_COPY_3_SKETCH_W, MIRROR29_COPY_3_SKETCH_H)
    extrude(amount=-MIRROR29_COPY_3_DEPTH, mode=Mode.SUBTRACT)

    # Mirror29 copy 4 sketch → Mirror29 copy 4 (cut)
    with BuildSketch(Plane(origin=(0, 5, 0), x_dir=(-1, 0, 0), z_dir=(0, 1, 0)).offset(MIRROR29_START_2)):
        with Locations((-80.5, -36.727703087)):
            Rectangle(MIRROR29_COPY_4_SKETCH_W, MIRROR29_COPY_4_SKETCH_H)
    extrude(amount=MIRROR29_COPY_4_DEPTH, mode=Mode.SUBTRACT)


solid = part.part
